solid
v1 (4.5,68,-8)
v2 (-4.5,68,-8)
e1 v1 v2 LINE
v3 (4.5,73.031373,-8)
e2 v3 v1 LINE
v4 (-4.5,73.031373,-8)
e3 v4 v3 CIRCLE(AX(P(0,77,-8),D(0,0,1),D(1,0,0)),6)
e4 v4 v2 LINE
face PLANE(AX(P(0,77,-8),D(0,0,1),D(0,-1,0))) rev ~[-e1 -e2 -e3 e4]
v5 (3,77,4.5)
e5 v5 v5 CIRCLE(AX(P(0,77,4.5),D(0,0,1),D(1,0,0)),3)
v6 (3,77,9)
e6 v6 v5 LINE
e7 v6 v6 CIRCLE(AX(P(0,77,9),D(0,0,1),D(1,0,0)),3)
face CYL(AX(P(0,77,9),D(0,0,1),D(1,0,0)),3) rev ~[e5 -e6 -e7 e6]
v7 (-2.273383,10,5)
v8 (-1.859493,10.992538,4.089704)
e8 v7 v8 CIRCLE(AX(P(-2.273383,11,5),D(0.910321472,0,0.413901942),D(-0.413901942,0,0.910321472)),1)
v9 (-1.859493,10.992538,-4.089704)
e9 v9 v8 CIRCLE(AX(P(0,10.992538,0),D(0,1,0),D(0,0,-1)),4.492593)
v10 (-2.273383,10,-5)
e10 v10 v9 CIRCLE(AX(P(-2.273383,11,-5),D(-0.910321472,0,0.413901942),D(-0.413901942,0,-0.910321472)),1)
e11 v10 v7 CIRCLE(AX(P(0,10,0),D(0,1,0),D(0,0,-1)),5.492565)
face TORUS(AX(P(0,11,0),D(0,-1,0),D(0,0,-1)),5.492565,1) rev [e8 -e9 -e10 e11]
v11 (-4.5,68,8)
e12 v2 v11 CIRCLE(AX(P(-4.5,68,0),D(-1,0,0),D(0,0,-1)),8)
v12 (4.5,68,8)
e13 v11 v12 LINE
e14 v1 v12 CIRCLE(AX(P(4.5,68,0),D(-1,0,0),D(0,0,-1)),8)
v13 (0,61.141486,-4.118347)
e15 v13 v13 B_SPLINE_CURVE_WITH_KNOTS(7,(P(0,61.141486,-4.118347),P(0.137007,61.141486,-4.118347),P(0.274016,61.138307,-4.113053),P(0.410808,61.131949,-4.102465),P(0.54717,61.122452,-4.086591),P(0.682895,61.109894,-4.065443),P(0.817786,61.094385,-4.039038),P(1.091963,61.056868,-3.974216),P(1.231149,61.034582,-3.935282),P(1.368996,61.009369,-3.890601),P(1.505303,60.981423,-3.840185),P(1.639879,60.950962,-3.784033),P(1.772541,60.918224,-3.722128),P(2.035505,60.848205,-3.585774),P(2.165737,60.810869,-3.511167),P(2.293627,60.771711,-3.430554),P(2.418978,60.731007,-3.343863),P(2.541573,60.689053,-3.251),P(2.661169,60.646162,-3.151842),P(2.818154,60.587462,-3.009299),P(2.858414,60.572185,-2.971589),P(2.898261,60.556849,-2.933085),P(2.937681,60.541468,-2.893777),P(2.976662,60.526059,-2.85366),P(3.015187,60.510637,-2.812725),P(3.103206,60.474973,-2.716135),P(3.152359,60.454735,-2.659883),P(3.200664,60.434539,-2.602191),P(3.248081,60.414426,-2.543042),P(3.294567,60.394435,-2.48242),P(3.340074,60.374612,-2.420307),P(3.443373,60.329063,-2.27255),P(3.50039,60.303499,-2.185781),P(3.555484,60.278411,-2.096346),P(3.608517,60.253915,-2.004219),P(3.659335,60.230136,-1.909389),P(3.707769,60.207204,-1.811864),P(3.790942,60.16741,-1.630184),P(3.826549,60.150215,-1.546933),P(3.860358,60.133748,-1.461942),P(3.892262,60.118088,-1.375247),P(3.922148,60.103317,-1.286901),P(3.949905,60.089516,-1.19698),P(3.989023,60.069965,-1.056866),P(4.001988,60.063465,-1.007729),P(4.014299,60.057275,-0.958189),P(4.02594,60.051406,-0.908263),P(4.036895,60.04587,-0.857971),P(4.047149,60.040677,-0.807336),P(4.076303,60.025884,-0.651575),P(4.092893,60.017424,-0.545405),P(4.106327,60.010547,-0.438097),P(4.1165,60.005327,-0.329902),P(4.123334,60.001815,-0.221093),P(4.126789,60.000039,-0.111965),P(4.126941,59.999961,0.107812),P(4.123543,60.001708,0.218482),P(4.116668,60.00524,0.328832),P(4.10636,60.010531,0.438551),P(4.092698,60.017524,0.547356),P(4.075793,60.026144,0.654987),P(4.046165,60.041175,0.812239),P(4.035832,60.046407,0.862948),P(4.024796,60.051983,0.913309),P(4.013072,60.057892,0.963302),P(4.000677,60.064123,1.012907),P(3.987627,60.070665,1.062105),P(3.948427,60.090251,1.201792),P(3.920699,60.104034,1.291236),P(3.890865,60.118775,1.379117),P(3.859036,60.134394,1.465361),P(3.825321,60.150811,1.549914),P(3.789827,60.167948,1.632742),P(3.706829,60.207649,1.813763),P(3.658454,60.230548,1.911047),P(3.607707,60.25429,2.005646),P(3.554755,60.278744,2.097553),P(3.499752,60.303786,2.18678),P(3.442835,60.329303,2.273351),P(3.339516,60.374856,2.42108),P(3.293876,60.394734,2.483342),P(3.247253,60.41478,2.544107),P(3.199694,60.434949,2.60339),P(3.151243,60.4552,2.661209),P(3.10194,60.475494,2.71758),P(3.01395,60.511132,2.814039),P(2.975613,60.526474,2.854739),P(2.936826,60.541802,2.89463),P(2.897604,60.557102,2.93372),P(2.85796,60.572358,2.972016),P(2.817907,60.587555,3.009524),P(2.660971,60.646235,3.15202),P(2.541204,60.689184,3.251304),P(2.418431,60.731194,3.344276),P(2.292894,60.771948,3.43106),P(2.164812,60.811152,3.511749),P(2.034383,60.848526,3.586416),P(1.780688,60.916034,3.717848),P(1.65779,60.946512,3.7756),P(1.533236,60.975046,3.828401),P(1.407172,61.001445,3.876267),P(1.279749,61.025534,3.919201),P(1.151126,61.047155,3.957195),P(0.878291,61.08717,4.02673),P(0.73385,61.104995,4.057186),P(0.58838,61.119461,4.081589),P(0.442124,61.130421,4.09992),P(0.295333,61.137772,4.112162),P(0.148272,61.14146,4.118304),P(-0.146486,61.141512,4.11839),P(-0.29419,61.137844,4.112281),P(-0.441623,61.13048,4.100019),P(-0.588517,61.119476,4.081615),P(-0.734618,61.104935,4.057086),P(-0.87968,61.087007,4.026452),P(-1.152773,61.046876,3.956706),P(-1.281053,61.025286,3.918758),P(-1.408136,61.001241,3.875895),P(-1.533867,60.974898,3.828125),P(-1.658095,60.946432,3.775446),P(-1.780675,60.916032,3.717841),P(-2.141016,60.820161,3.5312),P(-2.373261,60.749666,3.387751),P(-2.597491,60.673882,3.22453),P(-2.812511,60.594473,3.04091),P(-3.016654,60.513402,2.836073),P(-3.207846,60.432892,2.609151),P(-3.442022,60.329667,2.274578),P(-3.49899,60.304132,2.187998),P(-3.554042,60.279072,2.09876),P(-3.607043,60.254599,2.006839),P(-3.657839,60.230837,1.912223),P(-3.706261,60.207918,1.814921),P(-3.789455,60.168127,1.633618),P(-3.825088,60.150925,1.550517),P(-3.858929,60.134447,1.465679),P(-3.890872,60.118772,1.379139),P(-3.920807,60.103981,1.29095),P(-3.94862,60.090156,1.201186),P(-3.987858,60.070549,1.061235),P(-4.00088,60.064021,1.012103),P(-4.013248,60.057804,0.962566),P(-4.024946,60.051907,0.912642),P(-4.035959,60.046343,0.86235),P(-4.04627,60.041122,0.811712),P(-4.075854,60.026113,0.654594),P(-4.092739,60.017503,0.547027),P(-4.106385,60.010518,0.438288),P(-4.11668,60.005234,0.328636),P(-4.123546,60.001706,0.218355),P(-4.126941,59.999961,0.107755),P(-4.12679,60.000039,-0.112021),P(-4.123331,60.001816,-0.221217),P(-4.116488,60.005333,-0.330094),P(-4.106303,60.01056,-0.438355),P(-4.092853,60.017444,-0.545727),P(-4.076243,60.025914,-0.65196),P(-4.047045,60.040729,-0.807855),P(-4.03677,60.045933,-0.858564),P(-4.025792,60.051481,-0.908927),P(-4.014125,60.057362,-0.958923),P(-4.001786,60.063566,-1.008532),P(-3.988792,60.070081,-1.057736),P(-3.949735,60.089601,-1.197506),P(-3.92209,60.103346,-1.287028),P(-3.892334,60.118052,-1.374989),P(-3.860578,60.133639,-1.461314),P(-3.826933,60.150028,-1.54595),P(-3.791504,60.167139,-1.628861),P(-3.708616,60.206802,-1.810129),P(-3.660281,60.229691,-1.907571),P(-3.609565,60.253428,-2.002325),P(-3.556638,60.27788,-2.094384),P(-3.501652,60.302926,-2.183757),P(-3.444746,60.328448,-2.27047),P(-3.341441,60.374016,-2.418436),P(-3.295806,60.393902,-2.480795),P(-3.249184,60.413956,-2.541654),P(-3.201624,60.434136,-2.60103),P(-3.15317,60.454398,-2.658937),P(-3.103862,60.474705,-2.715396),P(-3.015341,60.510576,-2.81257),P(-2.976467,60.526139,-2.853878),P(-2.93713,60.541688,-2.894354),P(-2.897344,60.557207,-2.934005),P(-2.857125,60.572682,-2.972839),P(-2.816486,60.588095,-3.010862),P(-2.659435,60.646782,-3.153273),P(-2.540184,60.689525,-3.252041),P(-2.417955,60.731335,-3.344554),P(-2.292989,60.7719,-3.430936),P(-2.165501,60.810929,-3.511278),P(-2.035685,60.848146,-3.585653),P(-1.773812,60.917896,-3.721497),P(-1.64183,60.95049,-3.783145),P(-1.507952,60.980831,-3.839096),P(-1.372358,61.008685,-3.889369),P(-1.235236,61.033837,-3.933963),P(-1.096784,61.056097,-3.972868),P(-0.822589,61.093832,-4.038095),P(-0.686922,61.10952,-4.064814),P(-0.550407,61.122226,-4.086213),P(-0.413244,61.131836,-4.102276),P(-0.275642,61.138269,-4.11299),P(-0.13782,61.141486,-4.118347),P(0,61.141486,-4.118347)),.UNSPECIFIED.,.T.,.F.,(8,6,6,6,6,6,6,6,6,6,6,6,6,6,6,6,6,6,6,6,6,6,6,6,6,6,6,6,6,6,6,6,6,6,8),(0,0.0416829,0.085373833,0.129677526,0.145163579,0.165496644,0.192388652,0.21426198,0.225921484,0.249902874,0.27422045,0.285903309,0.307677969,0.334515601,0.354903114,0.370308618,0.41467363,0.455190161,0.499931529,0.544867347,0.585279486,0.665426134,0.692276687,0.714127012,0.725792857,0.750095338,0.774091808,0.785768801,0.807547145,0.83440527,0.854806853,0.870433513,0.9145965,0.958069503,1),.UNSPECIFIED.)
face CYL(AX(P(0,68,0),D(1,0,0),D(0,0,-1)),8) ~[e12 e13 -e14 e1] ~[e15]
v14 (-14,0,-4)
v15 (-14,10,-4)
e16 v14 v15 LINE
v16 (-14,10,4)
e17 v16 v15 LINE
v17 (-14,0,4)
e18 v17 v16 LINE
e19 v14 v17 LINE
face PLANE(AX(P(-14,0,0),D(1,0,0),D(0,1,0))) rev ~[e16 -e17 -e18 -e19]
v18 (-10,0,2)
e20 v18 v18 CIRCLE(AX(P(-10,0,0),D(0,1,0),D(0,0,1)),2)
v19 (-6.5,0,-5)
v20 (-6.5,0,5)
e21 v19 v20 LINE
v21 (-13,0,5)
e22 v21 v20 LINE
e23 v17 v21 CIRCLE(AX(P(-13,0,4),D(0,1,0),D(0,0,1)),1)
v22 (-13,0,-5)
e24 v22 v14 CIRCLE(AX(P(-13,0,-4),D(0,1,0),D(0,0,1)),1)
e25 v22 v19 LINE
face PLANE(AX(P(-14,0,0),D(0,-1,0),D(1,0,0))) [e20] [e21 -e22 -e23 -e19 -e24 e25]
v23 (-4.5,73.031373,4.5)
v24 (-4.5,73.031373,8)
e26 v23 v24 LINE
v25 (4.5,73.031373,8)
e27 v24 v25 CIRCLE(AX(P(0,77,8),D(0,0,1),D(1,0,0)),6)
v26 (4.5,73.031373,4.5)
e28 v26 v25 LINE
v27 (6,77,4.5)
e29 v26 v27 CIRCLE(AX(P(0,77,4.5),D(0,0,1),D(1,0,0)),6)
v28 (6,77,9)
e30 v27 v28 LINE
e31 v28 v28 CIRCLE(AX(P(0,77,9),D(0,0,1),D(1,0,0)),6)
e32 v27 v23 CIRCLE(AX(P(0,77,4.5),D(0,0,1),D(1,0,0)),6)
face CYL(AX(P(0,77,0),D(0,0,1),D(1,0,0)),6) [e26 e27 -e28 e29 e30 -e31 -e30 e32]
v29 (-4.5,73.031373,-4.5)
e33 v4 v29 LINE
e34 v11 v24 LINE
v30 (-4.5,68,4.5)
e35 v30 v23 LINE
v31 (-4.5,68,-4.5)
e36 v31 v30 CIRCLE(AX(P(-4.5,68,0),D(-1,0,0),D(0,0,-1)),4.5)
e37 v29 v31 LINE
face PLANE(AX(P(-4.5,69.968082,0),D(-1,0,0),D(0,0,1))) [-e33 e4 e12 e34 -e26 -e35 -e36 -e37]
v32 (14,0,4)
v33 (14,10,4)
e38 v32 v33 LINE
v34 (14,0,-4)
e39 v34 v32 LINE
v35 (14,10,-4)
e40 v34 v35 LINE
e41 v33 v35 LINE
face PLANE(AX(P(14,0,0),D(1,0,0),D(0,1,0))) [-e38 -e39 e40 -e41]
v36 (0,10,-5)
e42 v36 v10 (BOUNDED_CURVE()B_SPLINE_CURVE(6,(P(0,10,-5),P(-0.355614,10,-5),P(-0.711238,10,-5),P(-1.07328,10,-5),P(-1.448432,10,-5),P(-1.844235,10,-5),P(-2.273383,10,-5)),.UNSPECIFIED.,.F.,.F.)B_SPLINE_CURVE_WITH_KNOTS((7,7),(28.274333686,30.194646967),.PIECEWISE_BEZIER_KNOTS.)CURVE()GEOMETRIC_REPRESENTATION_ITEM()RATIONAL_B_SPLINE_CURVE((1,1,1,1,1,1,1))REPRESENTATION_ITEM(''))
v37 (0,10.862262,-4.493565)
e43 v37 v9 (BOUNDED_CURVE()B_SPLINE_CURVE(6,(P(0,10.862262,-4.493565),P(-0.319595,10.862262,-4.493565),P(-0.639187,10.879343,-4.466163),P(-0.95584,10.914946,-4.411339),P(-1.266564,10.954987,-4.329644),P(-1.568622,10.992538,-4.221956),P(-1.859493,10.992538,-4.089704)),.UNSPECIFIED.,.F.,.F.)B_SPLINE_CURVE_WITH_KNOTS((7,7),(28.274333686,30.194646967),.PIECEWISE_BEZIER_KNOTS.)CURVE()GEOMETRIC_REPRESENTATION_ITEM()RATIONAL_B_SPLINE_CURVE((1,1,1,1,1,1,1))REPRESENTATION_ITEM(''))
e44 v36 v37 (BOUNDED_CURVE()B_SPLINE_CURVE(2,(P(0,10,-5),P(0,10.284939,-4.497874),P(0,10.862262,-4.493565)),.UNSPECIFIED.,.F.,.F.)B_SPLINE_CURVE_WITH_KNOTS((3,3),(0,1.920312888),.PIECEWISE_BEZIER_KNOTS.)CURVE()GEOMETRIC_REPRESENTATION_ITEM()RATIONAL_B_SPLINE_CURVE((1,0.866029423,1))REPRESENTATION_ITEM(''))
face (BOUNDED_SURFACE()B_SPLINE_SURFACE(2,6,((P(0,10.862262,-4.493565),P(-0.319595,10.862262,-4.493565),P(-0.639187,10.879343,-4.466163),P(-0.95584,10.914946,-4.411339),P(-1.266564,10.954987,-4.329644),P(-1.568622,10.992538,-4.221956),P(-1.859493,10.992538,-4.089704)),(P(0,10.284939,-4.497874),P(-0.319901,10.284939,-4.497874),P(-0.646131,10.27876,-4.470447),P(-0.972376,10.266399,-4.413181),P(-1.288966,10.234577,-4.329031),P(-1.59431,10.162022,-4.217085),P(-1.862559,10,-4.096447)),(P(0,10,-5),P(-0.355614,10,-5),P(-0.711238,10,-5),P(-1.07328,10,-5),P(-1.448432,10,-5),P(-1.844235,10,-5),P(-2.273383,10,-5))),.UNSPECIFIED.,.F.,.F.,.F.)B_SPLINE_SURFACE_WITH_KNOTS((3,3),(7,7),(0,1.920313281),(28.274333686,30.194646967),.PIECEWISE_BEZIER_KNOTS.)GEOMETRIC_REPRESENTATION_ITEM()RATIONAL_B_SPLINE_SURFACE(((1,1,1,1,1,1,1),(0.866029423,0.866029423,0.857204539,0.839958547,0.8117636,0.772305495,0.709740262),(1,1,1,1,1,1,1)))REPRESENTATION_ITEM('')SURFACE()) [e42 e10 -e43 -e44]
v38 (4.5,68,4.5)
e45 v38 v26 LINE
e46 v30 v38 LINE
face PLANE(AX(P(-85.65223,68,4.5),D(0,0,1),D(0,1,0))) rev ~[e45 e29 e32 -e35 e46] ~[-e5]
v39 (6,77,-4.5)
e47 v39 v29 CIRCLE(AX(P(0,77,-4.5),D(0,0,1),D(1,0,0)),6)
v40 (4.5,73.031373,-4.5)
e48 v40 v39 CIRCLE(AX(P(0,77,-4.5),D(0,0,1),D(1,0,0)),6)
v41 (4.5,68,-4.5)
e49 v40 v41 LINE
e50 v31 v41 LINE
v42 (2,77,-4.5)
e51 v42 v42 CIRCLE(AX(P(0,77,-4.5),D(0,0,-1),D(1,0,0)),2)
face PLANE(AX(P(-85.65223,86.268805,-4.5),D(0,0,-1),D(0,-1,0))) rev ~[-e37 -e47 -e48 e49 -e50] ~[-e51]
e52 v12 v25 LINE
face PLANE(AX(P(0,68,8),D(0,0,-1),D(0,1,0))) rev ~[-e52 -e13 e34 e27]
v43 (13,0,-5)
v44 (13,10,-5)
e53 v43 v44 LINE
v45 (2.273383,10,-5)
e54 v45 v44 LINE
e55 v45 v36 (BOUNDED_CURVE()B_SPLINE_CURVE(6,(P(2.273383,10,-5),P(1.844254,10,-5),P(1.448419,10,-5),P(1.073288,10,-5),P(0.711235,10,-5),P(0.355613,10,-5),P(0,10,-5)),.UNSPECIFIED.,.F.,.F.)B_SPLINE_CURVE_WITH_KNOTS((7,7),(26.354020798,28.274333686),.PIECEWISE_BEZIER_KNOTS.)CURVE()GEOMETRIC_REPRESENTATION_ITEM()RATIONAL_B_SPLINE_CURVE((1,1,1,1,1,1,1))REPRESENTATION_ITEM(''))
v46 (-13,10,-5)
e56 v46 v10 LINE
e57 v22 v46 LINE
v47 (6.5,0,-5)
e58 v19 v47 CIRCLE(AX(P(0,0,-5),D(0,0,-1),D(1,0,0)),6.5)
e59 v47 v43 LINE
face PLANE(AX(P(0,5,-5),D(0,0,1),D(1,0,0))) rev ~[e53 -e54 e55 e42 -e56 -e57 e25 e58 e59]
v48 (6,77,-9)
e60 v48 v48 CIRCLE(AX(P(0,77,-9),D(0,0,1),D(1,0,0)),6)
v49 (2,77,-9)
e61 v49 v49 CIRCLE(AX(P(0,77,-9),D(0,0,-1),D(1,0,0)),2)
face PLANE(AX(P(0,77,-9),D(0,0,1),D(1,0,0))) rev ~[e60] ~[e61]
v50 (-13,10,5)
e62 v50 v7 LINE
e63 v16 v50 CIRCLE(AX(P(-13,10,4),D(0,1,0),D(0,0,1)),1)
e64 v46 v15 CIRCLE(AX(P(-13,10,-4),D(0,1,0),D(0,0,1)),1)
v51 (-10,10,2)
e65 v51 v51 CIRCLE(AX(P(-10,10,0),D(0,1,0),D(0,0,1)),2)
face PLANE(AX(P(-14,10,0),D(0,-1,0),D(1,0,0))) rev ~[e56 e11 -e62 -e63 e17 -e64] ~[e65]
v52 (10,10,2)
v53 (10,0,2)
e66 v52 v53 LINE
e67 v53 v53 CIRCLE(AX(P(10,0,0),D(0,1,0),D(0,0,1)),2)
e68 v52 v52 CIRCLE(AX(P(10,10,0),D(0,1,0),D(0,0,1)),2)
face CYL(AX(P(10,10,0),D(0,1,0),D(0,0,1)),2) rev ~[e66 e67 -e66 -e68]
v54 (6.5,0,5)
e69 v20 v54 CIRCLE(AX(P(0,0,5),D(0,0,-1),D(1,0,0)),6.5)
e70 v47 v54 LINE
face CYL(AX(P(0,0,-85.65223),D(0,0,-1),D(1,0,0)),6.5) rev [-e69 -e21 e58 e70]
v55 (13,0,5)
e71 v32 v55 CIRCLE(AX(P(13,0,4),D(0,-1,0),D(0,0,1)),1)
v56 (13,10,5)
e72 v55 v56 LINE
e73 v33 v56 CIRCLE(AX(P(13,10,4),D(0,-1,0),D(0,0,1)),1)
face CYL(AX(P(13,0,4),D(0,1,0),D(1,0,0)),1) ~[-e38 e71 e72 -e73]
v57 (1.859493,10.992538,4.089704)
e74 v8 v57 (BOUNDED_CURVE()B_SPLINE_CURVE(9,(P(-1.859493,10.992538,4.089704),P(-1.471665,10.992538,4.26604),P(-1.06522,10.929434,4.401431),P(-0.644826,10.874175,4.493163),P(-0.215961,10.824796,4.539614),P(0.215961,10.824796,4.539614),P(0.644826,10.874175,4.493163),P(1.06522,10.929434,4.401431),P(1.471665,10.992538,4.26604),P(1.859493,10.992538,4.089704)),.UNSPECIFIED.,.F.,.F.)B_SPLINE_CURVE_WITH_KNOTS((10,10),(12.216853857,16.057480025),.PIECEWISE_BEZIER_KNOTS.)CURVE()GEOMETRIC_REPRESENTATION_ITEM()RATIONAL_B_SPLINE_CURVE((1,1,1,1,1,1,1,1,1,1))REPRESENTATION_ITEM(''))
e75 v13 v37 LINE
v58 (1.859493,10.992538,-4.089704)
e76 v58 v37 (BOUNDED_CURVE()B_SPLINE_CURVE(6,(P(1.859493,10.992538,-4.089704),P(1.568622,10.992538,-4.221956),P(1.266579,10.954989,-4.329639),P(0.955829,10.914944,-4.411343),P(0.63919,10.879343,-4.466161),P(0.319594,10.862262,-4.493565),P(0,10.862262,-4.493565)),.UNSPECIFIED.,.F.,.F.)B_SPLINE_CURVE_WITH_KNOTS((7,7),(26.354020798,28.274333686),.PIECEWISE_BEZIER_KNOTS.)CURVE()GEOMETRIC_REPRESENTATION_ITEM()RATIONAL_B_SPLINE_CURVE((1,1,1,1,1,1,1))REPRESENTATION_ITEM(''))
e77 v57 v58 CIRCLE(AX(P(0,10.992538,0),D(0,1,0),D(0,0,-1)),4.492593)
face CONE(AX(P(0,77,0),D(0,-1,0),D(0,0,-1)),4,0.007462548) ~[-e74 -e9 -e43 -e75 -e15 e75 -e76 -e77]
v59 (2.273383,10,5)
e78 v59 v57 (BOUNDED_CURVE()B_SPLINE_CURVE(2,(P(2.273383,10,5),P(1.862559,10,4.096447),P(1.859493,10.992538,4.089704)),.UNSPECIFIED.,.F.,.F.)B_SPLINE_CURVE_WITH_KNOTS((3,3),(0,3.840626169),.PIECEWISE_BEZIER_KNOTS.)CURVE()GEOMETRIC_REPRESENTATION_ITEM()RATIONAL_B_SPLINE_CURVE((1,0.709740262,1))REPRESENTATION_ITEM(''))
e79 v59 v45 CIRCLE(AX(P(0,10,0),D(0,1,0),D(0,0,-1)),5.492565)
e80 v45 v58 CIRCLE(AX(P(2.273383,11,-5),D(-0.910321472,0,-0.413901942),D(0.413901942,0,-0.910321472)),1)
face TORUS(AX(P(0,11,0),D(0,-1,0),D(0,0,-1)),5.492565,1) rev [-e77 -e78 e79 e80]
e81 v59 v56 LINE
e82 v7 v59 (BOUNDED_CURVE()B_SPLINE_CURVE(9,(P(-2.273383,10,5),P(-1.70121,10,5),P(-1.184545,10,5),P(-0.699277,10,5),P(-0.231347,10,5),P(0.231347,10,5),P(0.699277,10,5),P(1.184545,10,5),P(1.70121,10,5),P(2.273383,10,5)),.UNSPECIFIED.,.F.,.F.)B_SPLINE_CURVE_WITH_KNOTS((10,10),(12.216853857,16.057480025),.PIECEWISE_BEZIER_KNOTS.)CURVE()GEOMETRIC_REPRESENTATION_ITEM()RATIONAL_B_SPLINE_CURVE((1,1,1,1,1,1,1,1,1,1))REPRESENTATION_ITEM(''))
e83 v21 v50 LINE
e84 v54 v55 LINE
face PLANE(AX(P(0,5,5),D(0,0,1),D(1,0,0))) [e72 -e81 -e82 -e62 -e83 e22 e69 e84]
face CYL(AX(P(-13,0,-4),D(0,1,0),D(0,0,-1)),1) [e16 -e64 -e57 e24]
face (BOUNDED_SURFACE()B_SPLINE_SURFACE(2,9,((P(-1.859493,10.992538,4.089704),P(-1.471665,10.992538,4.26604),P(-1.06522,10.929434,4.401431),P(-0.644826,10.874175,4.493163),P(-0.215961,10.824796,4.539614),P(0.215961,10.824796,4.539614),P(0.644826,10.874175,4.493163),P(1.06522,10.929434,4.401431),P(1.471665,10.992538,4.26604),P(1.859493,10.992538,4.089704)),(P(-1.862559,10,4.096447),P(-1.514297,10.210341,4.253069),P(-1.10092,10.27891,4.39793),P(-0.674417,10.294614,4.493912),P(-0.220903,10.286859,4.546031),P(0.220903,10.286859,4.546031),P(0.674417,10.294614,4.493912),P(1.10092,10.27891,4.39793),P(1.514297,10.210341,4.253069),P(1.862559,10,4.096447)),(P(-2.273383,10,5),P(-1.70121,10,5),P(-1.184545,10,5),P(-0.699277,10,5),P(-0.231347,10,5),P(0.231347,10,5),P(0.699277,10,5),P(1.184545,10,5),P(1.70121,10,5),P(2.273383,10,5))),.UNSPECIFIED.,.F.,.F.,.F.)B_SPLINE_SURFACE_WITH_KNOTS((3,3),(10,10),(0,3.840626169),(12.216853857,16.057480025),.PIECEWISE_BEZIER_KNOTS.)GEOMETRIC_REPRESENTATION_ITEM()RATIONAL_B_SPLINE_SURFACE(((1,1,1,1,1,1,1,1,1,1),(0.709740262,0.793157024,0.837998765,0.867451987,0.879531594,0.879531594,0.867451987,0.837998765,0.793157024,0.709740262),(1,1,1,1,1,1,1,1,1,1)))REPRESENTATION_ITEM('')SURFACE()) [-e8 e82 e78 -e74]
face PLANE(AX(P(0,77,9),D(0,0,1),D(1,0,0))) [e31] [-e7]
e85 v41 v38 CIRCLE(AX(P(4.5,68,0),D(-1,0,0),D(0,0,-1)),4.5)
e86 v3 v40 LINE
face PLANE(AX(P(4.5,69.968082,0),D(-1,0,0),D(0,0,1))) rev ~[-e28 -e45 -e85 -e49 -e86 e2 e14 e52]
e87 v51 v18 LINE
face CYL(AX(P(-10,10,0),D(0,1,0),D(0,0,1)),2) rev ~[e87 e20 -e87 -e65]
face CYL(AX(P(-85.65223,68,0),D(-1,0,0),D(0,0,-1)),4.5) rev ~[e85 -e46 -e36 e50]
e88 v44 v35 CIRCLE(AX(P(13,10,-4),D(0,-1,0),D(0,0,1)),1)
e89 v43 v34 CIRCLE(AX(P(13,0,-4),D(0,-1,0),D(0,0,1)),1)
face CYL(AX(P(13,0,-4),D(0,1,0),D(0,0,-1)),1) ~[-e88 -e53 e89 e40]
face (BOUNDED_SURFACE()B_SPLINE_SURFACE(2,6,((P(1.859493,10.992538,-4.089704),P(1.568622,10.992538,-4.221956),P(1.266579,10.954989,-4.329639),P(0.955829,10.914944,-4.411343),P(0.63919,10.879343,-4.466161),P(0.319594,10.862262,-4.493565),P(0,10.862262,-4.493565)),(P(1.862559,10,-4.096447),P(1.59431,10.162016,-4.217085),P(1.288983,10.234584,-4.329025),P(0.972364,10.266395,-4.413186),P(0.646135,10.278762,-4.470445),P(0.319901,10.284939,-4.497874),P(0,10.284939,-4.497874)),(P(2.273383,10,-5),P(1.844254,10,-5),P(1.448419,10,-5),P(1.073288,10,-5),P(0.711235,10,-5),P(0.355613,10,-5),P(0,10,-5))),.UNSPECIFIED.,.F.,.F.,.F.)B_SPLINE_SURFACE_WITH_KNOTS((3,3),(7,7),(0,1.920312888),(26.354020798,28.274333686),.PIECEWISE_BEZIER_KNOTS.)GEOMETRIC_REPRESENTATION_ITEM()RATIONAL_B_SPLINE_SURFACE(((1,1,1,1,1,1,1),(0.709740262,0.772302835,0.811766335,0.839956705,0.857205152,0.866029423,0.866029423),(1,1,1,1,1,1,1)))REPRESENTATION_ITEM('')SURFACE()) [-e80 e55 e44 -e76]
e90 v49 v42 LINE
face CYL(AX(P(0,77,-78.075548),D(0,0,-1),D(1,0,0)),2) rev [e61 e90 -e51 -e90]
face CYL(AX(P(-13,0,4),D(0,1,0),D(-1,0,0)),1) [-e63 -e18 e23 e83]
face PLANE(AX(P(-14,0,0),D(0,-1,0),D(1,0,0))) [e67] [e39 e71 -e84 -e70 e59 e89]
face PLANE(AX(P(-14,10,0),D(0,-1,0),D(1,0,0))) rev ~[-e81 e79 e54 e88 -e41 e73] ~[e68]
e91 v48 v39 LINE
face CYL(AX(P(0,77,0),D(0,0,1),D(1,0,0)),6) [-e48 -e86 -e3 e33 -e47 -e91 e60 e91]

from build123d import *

# Parameters (mm, degrees)
SKETCH1_W                      = 28
SKETCH1_H                      = 10
BOSS_EXTRUDE1_DEPTH            = 5
SKETCH6_R                      = 6
BOSS_EXTRUDE3_DEPTH            = 9
BOSS_EXTRUDE4_DEPTH            = 4.5
CUT_EXTRUDE1_DEPTH             = 87.075548212
CUT_EXTRUDE1_DEPTH_BACK        = 87.075548212
SKETCH8_R                      = 2
CUT_EXTRUDE2_DEPTH             = 85.65222974
CUT_EXTRUDE2_DEPTH_BACK        = 85.65222974
CUT_EXTRUDE3_REACH             = 88.076
SKETCH10_R                     = 3
CUT_EXTRUDE3_DIRECTION_2_DEPTH = 87.075548212
CUT_EXTRUDE4_REACH             = 76.873
SKETCH11_R                     = 2
FILLET1_R                      = 1
FILLET2_R                      = 1
CUT_EXTRUDE5_DEPTH             = 85.65222974
CUT_EXTRUDE5_DEPTH_BACK        = 85.65222974


with BuildPart() as part:
    # Sketch1 → Boss-Extrude1 (new, symmetric)
    with BuildSketch(Plane.XY):
        with Locations((0, 5)):
            Rectangle(SKETCH1_W, SKETCH1_H)
    extrude(amount=BOSS_EXTRUDE1_DEPTH, both=True)

    # Sketch2 → Revolve2 (revolve)
    with BuildSketch(Plane(origin=(0, 0, 0), x_dir=(0, 0, -1), z_dir=(1, 0, 0)), mode=Mode.PRIVATE) as revolve2_sk:
        Polygon((0, 10), (0, 77), (-4, 77), (-4.5, 10), align=None)
    revolve(revolve2_sk.sketch.rotate(Axis((0, 10, 0), (0, 1, 0)), 180), axis=Axis((0, 10, 0), (0, 1, 0)))

    # Sketch6 → Boss-Extrude3 (add, symmetric)
    with BuildSketch(Plane.XY):
        with Locations((0, 77)):
            Circle(SKETCH6_R)
    extrude(amount=BOSS_EXTRUDE3_DEPTH, both=True)

    # Sketch7 → Boss-Extrude4 (add, symmetric)
    with BuildSketch(Plane(origin=(0, 0, 0), x_dir=(0, 0, -1), z_dir=(1, 0, 0))):
        with BuildLine():
            Line((-8, 77), (8, 77))
            Line((8, 77), (8, 68))
            ThreePointArc((8, 68), (0, 60), (-8, 68))
            Line((-8, 68), (-8, 77))
        make_face()
    extrude(amount=BOSS_EXTRUDE4_DEPTH, both=True)

    # Sketch8 → Cut-Extrude1 (cut, two sides: drawn at the far end of the back side and taken through both)
    with BuildSketch(Plane.XY.offset(9).offset(-CUT_EXTRUDE1_DEPTH_BACK)):
        with Locations((0, 77)):
            Circle(SKETCH8_R)
    extrude(amount=CUT_EXTRUDE1_DEPTH + CUT_EXTRUDE1_DEPTH_BACK, mode=Mode.SUBTRACT)

    # Sketch9 → Cut-Extrude2 (cut, two sides: drawn at the far end of the back side and taken through both)
    with BuildSketch(Plane(origin=(0, 0, 0), x_dir=(0, 0, -1), z_dir=(1, 0, 0)).offset(-CUT_EXTRUDE2_DEPTH_BACK)):
        with BuildLine():
            Line((-4.5, 68), (-4.5, 86.268805497))
            ThreePointArc((-4.5, 86.268805497), (0, 90.768805497), (4.5, 86.268805497))
            Line((4.5, 86.268805497), (4.5, 68))
            ThreePointArc((4.5, 68), (0, 63.5), (-4.5, 68))
        make_face()
    extrude(amount=CUT_EXTRUDE2_DEPTH + CUT_EXTRUDE2_DEPTH_BACK, mode=Mode.SUBTRACT)

    # Sketch10 → Cut-Extrude3 (cut, up to next)
    with BuildSketch(Plane.XY.offset(9), mode=Mode.PRIVATE) as cut_extrude3_sk1:
        with Locations((0, 77)):
            Circle(SKETCH10_R)
    cut_extrude3_tool1 = extrude(cut_extrude3_sk1.sketch, amount=-CUT_EXTRUDE3_REACH, mode=Mode.PRIVATE) & part.part
    add(cut_extrude3_tool1.solids().sort_by_distance((0, 77, 9))[0], mode=Mode.SUBTRACT)

    # Sketch10 → Cut-Extrude3 direction 2 (cut)
    with BuildSketch(Plane.XY.offset(9)):
        with Locations((0, 77)):
            Circle(SKETCH10_R)
    extrude(amount=CUT_EXTRUDE3_DIRECTION_2_DEPTH, mode=Mode.SUBTRACT)

    # Sketch11 → Cut-Extrude4 (cut, up to next)
    with BuildSketch(Plane(origin=(0, 10, 0), x_dir=(1, 0, 0), z_dir=(0, 1, 0)), mode=Mode.PRIVATE) as cut_extrude4_sk1:
        with Locations(Location((-10, 0, 0), (0, 0, 270))):
            Circle(SKETCH11_R)
    cut_extrude4_tool1 = extrude(cut_extrude4_sk1.sketch, amount=-CUT_EXTRUDE4_REACH, mode=Mode.PRIVATE) & part.part
    # Sketch11 → Cut-Extrude4 (cut, up to next)
    with BuildSketch(Plane(origin=(0, 10, 0), x_dir=(1, 0, 0), z_dir=(0, 1, 0)), mode=Mode.PRIVATE) as cut_extrude4_sk2:
        with Locations(Location((10, 0, 0), (0, 0, 270))):
            Circle(SKETCH11_R)
    cut_extrude4_tool2 = extrude(cut_extrude4_sk2.sketch, amount=-CUT_EXTRUDE4_REACH, mode=Mode.PRIVATE) & part.part
    add(cut_extrude4_tool1.solids().sort_by_distance((-10, 10, 0))[0], mode=Mode.SUBTRACT)
    add(cut_extrude4_tool2.solids().sort_by_distance((10, 10, 0))[0], mode=Mode.SUBTRACT)

    # Fillet1
    fillet1_edges = [part.edges().sort_by_distance(p)[0] for p in [
        (14, 5, 5),
        (-14, 5, 5),
        (14, 5, -5),
        (-14, 5, -5),
    ]]
    fillet(fillet1_edges, radius=FILLET1_R)

    # Fillet2
    fillet2_edges = [part.edges().sort_by_distance(p)[0] for p in [
        (0, 10, 4.5),
    ]]
    fillet(fillet2_edges, radius=FILLET2_R)

    # Sketch12 → Cut-Extrude5 (cut, two sides: drawn at the far end of the back side and taken through both)
    with BuildSketch(Plane.XY.offset(-CUT_EXTRUDE5_DEPTH_BACK)):
        with BuildLine():
            Line((-6.5, 0), (6.5, 0))
            ThreePointArc((6.5, 0), (0, 6.5), (-6.5, 0))
        make_face()
    extrude(amount=CUT_EXTRUDE5_DEPTH + CUT_EXTRUDE5_DEPTH_BACK, mode=Mode.SUBTRACT)


solid = part.part
